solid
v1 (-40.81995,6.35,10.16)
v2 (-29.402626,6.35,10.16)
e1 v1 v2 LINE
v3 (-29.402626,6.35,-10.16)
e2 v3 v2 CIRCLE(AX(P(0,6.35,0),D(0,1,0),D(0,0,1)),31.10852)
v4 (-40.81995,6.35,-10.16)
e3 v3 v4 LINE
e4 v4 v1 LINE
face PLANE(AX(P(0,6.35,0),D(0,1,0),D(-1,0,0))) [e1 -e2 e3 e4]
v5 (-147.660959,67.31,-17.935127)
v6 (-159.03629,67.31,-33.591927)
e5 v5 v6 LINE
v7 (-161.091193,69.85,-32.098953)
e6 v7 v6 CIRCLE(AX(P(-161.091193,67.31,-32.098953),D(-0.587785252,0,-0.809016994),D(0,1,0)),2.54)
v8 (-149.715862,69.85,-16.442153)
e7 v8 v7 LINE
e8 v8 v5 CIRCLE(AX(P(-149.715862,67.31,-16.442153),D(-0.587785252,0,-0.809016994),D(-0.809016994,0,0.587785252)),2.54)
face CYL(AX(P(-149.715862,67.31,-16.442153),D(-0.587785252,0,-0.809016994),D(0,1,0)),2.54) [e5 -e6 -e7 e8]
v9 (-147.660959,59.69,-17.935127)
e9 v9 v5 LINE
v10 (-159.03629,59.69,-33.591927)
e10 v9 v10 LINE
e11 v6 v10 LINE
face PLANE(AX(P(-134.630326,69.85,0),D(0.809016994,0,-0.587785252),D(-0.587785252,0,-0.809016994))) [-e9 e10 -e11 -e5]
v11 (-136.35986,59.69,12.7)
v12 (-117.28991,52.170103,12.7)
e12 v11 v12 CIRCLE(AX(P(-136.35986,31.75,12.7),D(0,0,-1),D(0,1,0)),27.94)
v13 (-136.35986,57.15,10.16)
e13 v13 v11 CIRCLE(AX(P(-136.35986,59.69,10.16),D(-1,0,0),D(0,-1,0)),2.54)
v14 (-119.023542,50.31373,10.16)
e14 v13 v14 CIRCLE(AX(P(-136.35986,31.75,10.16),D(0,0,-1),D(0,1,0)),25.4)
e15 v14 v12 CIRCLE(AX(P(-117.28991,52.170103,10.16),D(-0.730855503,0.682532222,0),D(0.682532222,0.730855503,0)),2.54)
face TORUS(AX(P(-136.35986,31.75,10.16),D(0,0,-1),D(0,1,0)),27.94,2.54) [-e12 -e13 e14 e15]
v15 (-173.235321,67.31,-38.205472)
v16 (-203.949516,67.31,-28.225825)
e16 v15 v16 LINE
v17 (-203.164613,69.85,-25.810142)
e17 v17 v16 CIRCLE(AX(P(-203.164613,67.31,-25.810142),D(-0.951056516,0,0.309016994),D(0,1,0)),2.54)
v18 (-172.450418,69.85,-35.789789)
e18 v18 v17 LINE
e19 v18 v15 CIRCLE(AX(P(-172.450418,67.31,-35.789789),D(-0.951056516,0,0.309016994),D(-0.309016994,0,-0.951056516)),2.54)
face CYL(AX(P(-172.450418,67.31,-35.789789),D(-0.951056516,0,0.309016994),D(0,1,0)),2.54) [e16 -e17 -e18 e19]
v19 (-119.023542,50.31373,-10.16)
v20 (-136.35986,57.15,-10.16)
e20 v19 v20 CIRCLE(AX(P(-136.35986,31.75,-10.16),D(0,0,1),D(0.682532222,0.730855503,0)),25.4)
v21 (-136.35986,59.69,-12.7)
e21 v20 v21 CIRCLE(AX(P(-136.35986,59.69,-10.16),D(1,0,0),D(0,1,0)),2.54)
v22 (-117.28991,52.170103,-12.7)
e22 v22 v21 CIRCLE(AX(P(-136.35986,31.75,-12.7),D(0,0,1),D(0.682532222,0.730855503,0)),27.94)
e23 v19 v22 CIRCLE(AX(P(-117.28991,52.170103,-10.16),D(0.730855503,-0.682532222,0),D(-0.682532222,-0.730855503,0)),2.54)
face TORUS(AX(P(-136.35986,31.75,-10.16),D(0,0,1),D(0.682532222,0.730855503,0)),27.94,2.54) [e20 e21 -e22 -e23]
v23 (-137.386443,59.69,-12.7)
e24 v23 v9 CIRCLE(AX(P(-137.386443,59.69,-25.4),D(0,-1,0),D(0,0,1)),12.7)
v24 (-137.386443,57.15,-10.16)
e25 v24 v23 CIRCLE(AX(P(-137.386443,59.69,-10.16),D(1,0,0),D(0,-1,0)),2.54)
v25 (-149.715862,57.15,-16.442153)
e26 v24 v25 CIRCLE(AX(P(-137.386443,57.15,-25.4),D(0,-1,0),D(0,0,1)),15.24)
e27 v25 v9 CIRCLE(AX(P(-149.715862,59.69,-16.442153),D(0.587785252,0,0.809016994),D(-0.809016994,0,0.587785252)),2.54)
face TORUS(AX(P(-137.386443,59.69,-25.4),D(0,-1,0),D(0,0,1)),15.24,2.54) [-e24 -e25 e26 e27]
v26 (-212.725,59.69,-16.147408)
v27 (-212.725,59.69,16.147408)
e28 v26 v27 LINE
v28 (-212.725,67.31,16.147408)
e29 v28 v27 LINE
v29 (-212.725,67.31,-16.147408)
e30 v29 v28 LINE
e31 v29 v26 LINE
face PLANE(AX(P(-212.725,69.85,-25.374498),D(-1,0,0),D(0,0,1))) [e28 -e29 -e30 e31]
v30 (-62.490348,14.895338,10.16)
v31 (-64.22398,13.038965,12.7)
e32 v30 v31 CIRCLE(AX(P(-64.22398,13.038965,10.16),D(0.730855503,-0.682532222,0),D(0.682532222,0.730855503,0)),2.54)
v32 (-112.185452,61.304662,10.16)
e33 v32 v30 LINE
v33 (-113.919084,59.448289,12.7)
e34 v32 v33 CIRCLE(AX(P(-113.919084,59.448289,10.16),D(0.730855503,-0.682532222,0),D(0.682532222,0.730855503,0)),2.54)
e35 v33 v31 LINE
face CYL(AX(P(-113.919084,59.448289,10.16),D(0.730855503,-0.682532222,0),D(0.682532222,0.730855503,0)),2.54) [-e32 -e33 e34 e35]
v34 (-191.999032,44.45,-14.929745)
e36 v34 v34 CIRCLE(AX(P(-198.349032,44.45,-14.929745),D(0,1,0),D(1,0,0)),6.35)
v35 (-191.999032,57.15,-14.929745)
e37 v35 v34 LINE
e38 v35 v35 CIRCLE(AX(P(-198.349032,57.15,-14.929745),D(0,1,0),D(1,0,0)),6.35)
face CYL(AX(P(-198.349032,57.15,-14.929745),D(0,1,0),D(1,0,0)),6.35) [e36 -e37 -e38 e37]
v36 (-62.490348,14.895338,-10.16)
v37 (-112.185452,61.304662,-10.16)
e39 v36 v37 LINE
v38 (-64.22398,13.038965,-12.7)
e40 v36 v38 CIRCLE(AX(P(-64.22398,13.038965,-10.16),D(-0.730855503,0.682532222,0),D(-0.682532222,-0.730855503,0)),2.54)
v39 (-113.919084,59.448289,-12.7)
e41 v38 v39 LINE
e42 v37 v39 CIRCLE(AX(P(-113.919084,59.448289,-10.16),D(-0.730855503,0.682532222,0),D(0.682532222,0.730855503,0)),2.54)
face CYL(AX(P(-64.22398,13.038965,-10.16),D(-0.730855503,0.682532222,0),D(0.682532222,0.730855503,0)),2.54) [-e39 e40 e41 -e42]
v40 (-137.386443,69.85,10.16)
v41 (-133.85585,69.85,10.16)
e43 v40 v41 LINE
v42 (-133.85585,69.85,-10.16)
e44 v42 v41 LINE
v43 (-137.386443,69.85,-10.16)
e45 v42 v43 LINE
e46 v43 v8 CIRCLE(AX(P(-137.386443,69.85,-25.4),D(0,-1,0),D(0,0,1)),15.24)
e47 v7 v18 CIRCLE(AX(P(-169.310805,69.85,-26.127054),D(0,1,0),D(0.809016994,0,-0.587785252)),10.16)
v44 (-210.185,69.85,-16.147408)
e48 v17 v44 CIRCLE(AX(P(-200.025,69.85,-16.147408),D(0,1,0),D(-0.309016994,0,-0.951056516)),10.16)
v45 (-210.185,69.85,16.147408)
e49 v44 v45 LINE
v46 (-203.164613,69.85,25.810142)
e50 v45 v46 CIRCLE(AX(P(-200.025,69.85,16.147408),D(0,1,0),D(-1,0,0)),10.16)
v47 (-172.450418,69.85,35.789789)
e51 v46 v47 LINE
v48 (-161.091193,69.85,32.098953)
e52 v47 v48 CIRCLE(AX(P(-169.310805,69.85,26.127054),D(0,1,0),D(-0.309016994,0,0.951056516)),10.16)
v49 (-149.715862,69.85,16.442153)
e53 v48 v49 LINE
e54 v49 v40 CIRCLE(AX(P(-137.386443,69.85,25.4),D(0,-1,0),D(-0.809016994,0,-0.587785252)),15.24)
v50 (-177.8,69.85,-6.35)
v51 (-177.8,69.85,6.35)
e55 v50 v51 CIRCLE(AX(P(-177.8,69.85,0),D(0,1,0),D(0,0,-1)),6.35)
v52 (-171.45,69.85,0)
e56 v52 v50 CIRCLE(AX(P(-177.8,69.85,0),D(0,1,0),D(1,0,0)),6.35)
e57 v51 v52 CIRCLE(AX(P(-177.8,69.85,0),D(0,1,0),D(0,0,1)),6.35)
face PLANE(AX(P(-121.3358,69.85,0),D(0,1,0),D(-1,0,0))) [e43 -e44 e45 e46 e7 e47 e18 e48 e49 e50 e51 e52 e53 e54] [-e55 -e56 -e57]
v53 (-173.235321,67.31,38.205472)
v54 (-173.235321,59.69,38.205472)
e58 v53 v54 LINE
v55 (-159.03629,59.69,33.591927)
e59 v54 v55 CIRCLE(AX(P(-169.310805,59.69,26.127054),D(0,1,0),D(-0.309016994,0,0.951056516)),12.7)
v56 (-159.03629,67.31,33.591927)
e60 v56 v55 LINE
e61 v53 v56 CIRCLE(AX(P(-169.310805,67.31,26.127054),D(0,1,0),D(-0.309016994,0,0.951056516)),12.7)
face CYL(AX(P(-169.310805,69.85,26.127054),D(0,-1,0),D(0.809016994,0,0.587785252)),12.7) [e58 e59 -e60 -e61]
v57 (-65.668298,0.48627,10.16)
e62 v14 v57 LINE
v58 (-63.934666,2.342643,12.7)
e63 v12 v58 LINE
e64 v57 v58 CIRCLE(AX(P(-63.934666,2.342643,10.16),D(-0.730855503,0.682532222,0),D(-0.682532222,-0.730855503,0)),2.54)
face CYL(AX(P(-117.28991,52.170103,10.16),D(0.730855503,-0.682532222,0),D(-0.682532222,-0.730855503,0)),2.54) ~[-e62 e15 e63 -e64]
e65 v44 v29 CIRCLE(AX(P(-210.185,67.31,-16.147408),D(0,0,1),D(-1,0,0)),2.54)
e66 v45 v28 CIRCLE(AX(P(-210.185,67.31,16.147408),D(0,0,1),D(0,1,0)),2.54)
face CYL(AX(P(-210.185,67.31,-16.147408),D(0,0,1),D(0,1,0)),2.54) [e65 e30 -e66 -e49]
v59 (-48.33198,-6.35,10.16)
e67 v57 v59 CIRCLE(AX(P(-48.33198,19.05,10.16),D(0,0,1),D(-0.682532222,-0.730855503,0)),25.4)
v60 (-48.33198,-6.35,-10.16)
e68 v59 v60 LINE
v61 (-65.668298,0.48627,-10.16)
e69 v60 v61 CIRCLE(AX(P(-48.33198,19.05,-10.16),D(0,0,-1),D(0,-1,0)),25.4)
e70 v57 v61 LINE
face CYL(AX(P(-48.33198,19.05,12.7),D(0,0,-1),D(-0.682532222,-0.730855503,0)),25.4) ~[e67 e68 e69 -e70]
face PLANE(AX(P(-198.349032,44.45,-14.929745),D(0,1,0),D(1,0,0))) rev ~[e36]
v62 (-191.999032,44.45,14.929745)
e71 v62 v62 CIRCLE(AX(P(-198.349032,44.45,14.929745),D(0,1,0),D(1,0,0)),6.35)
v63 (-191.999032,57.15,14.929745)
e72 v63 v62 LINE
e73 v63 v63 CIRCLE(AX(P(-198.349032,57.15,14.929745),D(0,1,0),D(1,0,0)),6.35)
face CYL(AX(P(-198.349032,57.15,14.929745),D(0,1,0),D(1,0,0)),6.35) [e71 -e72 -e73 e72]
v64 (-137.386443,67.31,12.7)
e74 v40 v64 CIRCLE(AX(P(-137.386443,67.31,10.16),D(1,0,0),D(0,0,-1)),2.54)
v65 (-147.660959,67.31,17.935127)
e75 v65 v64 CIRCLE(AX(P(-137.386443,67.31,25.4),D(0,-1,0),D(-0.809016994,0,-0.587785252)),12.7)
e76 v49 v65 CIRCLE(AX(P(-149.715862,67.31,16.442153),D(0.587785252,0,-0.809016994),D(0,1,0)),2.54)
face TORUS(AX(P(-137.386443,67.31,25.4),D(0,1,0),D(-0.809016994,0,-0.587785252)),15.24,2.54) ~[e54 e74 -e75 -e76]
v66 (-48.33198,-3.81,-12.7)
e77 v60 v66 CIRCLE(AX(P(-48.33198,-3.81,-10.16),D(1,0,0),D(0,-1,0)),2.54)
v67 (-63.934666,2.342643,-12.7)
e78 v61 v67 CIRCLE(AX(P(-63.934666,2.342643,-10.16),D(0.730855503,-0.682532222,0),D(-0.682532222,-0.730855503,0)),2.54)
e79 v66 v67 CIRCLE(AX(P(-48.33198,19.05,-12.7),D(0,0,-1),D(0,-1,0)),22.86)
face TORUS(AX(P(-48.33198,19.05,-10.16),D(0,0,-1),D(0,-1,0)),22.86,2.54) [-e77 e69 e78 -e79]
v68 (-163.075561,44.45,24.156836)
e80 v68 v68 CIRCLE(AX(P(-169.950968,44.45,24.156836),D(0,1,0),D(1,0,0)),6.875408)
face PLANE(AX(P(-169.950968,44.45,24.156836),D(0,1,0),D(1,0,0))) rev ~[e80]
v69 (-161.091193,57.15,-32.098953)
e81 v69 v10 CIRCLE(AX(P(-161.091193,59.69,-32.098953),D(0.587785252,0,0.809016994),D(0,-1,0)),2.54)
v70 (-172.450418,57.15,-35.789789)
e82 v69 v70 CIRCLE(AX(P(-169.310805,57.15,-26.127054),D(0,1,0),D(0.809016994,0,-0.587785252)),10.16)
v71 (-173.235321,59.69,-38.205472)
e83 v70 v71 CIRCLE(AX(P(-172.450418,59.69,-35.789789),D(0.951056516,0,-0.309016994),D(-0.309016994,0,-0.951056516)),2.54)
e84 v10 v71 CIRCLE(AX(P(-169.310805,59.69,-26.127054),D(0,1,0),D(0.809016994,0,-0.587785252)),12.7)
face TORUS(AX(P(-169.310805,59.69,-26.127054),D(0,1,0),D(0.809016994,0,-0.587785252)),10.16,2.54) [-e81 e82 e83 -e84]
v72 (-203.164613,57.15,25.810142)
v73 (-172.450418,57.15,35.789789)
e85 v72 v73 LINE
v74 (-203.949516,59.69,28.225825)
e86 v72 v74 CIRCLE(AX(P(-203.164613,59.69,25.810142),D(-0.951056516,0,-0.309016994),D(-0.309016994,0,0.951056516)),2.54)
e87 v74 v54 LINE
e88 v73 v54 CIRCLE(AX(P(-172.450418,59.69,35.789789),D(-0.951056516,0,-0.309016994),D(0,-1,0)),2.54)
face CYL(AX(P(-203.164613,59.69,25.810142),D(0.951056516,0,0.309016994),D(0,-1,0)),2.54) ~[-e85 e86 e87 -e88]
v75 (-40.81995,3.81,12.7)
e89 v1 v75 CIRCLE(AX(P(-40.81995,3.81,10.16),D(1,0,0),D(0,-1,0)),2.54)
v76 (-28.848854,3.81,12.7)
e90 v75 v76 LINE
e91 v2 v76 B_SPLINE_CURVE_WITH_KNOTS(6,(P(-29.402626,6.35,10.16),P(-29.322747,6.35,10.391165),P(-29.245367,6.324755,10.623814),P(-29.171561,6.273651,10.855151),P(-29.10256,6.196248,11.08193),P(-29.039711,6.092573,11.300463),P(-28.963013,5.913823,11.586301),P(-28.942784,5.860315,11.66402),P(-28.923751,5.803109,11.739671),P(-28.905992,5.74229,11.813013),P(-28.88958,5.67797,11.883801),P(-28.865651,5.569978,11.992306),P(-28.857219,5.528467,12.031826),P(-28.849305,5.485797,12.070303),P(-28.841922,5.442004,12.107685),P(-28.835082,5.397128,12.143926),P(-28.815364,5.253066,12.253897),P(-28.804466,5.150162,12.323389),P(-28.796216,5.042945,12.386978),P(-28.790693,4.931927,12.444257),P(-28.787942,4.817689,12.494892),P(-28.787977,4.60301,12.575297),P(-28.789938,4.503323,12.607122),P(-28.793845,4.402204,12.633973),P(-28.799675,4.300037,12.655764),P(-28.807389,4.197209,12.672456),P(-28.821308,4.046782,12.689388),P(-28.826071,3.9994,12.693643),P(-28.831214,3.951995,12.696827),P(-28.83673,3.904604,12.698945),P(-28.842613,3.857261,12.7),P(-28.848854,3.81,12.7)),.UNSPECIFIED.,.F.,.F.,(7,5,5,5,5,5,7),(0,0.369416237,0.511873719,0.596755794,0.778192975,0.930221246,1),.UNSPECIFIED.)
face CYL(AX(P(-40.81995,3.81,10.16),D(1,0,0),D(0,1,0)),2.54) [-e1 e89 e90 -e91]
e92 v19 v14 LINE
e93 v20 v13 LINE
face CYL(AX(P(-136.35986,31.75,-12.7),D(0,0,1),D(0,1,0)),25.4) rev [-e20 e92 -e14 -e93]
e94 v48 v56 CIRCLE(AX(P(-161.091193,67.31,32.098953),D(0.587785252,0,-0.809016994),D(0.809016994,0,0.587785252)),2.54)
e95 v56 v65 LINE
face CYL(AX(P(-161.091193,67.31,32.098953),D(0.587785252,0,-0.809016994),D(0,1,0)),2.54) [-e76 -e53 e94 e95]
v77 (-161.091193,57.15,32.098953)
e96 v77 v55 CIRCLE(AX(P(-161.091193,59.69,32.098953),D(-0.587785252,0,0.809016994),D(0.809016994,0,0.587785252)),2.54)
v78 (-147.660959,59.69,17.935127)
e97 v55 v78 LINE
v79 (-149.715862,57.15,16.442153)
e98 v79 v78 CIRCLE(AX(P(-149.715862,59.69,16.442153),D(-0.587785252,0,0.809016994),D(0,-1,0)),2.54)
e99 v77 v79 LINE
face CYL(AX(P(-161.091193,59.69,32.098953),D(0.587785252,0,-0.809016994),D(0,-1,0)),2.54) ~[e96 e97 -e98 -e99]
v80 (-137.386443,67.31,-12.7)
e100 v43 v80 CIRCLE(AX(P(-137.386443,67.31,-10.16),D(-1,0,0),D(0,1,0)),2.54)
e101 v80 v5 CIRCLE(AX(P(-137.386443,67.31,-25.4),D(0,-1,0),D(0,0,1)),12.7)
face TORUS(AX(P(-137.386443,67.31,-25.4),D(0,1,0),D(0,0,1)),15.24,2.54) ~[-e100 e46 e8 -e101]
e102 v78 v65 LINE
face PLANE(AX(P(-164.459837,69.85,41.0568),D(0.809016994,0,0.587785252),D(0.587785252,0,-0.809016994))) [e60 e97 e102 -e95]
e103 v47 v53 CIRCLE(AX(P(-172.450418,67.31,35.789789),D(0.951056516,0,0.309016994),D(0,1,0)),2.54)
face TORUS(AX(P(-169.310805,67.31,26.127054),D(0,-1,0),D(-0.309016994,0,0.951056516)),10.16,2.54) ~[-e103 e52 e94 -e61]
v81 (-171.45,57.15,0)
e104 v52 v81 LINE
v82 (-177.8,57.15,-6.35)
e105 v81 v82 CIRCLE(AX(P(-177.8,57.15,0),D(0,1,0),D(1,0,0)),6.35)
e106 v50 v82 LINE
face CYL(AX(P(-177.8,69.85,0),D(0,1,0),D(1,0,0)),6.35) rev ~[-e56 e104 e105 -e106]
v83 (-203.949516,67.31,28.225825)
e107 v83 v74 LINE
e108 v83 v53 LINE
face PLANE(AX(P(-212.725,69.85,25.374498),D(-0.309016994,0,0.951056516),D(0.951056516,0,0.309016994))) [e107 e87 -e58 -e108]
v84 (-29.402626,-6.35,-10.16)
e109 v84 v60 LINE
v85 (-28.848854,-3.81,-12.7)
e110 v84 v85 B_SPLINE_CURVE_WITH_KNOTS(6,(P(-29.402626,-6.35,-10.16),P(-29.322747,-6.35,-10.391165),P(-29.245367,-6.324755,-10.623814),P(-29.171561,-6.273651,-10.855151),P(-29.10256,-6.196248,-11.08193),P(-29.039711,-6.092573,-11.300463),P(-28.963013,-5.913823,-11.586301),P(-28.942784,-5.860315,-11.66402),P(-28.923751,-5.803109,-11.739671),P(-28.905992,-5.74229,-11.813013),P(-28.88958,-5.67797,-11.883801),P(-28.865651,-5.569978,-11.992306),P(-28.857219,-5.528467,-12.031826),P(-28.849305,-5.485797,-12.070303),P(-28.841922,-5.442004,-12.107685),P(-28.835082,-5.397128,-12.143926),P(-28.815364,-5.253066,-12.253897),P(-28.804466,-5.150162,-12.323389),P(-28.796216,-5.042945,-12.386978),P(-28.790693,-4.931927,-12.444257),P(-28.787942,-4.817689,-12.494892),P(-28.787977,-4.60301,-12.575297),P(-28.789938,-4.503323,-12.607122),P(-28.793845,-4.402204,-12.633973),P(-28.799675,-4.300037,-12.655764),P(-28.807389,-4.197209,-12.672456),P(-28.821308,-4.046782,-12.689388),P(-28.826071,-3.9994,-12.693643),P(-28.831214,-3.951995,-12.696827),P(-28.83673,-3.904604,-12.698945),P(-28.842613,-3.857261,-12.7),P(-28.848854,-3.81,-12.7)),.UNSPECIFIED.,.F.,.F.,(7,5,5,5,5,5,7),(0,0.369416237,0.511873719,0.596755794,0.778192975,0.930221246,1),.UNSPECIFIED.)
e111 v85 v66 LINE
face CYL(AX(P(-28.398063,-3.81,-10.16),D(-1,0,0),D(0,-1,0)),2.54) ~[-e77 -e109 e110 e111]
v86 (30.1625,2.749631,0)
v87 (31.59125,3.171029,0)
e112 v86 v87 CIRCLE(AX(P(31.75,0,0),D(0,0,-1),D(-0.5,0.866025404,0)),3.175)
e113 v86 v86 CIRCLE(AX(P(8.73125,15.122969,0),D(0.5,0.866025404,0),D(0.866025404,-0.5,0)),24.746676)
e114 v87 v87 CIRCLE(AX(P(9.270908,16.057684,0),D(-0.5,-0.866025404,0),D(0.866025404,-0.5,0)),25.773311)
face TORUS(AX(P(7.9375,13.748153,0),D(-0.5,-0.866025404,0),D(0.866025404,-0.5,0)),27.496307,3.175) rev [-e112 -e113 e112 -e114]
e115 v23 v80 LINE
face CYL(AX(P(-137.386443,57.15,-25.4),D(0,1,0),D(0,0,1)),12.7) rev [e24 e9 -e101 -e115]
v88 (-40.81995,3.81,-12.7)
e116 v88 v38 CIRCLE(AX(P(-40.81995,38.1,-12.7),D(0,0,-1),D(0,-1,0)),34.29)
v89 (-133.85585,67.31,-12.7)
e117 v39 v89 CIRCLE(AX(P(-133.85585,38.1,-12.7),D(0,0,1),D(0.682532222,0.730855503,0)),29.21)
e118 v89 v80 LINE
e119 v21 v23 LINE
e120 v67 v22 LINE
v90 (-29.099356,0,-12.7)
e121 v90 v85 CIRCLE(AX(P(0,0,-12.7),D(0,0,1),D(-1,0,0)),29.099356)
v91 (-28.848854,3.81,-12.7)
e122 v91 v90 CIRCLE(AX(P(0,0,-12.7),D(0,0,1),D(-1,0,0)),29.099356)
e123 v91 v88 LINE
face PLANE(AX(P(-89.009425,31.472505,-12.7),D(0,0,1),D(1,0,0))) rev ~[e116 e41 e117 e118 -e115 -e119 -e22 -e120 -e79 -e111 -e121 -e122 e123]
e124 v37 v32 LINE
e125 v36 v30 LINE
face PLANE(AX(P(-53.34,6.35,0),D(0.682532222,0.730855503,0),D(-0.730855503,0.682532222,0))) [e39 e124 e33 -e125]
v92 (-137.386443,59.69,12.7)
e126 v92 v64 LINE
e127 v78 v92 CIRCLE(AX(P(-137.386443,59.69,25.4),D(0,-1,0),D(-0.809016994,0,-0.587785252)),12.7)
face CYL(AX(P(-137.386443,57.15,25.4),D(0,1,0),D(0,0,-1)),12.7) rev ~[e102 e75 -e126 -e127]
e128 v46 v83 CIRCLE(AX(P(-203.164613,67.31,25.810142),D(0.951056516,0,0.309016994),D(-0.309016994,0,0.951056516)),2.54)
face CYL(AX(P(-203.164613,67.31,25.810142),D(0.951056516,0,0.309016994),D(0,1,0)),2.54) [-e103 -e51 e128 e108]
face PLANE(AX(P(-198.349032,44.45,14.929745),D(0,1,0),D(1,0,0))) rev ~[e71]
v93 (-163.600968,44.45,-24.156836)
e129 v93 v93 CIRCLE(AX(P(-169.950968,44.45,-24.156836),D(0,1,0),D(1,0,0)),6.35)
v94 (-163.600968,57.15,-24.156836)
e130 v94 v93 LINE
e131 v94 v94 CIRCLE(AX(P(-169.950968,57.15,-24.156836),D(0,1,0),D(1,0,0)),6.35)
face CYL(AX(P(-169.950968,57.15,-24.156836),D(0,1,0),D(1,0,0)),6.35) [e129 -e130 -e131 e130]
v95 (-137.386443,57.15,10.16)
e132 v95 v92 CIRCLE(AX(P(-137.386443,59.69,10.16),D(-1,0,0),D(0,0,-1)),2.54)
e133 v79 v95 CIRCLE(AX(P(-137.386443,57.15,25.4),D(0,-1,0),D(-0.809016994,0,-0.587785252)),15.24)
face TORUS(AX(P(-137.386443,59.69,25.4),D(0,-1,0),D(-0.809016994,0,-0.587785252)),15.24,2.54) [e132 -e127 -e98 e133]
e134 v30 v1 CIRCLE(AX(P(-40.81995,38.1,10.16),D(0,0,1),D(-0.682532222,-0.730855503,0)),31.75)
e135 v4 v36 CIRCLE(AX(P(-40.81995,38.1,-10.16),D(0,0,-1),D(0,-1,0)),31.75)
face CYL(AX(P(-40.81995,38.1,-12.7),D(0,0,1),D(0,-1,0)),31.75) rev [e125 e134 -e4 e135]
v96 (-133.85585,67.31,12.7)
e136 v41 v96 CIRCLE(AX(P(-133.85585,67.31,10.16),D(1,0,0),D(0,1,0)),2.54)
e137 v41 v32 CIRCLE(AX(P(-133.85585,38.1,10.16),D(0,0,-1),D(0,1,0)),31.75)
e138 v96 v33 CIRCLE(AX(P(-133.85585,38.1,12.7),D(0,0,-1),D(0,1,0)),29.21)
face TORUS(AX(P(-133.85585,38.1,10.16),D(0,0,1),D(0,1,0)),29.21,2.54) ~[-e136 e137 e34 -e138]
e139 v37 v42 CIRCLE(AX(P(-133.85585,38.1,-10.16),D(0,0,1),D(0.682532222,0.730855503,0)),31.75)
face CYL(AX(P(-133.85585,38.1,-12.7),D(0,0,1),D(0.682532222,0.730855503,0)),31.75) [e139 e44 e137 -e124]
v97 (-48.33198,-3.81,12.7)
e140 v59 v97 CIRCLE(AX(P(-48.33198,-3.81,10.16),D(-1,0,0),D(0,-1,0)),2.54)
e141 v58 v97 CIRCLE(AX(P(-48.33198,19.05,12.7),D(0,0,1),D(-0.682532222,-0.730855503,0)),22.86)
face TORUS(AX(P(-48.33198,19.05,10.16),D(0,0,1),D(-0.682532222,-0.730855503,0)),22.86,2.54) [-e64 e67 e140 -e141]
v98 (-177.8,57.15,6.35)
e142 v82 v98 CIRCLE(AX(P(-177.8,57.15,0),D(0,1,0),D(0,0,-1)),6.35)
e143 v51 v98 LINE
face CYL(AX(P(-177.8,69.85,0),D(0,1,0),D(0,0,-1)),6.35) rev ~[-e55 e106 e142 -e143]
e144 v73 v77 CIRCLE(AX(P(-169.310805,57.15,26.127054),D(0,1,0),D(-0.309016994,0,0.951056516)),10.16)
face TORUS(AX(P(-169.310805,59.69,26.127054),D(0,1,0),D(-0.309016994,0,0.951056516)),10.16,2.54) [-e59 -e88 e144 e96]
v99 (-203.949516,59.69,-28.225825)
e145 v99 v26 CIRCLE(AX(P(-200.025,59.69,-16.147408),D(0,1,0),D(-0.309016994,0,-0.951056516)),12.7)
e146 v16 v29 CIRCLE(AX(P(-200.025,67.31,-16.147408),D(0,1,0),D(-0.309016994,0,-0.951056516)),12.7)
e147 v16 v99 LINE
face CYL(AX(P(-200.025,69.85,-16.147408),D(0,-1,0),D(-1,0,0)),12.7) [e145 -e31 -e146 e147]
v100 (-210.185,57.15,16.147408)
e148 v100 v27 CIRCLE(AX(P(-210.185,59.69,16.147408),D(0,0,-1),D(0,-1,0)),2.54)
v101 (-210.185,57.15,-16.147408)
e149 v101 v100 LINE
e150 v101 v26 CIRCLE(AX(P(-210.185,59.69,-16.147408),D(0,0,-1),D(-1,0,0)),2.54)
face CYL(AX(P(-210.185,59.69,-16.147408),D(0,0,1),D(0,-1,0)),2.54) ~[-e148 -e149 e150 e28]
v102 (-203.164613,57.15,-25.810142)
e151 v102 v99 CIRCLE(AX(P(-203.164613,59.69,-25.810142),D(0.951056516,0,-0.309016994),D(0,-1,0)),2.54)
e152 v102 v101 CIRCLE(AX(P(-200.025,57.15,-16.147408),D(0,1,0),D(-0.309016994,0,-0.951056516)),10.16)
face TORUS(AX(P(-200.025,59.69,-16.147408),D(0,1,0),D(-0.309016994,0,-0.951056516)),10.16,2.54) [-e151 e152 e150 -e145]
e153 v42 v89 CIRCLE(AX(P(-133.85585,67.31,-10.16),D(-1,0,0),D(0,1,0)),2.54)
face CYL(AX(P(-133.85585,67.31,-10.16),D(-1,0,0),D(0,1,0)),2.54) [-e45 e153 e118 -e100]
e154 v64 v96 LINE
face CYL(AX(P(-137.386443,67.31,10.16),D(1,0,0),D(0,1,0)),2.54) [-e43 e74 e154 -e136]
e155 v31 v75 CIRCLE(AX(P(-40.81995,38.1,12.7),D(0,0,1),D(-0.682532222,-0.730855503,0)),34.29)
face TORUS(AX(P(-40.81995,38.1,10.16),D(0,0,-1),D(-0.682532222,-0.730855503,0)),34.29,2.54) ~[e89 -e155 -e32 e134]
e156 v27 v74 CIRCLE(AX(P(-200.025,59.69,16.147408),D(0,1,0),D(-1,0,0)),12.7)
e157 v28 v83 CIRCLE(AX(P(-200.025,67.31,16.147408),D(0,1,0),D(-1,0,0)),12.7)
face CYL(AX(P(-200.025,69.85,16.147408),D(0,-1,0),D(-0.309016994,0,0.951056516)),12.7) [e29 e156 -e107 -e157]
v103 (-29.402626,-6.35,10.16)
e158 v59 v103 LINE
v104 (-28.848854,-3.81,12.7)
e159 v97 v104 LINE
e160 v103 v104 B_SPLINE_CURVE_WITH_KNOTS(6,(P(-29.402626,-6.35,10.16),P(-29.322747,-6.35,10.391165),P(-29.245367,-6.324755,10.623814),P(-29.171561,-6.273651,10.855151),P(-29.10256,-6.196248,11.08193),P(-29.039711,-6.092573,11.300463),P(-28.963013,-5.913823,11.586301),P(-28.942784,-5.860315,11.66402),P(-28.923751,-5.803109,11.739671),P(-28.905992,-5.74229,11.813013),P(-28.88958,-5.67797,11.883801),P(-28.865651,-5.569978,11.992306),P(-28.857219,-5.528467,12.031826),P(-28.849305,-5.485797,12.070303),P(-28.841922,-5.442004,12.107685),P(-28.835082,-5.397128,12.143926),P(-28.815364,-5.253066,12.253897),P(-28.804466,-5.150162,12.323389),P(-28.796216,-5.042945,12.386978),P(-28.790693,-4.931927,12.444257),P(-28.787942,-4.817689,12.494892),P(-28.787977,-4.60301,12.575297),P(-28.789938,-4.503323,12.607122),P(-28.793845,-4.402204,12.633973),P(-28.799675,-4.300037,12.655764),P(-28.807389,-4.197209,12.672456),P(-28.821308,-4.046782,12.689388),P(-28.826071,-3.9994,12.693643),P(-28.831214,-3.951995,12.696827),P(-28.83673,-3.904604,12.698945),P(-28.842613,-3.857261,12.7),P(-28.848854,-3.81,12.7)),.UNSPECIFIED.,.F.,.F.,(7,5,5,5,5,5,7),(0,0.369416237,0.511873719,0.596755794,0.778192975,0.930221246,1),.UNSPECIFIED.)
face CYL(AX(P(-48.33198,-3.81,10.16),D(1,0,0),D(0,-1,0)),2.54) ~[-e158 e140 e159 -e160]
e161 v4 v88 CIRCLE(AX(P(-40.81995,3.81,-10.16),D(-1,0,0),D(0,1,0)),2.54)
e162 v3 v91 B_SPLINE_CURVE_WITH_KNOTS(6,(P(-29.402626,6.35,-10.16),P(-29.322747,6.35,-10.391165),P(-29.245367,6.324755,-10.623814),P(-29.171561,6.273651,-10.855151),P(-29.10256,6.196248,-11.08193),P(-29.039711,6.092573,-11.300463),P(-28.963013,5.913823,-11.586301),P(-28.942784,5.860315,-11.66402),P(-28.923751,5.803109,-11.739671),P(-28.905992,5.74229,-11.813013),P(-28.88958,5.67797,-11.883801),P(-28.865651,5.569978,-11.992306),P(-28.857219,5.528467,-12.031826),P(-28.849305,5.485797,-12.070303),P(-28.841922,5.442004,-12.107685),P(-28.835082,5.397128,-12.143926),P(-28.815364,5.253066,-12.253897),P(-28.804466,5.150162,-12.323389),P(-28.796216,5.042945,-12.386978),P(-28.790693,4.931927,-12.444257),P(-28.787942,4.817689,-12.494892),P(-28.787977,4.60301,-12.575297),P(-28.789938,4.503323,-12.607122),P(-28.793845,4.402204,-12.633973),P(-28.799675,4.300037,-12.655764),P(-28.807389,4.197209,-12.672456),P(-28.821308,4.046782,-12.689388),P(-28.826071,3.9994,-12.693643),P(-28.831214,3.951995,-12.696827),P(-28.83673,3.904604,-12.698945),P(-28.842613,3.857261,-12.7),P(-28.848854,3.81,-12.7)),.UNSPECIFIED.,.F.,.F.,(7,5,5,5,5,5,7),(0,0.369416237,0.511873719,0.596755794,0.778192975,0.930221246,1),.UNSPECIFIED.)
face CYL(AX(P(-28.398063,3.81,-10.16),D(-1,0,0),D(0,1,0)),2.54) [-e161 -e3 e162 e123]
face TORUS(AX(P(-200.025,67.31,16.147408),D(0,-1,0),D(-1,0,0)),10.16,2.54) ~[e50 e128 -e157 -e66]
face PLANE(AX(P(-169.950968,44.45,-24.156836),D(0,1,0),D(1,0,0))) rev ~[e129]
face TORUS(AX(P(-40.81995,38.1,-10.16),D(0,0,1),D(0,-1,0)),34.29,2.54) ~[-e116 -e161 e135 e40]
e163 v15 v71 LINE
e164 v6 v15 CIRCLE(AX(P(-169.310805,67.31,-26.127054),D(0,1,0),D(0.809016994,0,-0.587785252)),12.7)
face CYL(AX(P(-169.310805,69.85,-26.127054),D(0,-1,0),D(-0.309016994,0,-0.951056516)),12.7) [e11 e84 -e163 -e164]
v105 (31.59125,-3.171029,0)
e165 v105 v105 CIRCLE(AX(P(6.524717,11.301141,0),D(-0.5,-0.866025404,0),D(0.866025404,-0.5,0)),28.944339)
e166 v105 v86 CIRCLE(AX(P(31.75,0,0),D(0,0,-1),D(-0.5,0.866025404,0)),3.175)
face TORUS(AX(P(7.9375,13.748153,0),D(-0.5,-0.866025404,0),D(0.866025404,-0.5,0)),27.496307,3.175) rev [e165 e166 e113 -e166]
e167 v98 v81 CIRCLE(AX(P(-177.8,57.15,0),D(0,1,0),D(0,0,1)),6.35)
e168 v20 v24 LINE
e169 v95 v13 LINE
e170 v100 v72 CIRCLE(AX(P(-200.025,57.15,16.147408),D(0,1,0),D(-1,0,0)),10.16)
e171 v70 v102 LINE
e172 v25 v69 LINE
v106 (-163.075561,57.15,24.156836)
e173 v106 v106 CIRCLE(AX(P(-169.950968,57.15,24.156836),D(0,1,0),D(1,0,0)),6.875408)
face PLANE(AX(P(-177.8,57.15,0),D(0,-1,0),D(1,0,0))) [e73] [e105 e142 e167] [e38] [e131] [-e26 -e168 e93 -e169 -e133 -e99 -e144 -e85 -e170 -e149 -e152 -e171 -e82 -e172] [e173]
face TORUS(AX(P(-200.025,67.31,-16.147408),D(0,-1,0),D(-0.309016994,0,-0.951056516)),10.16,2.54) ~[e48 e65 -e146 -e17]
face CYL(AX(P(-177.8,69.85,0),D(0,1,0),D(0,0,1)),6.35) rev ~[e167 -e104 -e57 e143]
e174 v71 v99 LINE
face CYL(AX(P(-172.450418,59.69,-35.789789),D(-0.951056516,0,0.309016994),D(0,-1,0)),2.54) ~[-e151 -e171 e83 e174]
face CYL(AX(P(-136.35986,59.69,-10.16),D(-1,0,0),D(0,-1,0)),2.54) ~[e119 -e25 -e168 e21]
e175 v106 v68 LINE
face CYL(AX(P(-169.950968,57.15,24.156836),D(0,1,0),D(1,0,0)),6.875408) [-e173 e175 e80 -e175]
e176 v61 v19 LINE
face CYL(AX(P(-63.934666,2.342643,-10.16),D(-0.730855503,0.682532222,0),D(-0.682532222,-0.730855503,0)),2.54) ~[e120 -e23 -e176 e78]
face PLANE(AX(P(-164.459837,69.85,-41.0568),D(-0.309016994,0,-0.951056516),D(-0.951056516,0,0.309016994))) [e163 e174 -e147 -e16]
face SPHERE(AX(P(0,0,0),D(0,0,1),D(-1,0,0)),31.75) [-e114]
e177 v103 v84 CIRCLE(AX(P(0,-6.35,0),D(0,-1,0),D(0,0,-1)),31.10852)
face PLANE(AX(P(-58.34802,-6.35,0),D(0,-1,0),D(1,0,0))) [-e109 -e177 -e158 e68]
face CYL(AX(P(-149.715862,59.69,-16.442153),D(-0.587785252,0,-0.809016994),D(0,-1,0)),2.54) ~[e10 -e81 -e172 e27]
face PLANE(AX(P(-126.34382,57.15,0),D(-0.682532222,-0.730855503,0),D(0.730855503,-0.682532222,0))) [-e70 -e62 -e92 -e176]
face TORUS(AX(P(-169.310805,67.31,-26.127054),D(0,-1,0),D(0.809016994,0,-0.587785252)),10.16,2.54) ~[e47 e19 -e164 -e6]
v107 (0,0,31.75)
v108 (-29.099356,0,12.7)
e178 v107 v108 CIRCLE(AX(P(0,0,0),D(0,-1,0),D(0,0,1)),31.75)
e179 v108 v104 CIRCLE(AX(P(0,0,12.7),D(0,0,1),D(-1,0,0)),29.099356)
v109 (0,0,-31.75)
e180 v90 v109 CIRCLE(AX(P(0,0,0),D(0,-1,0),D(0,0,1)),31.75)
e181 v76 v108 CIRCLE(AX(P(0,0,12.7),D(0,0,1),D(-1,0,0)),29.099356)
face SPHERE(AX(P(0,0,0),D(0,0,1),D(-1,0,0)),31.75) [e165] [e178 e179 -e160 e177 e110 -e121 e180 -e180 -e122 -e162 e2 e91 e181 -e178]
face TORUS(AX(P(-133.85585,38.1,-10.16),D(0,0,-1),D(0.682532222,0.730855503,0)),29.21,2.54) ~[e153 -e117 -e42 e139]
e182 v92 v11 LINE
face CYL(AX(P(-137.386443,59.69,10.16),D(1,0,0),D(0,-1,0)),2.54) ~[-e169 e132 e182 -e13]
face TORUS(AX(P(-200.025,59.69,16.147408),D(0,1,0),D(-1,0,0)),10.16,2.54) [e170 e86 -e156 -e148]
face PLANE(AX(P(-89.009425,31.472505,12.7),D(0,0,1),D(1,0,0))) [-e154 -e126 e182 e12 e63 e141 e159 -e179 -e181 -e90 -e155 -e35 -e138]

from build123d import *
from build123d.topology import SkipClean

# Parameters (mm, degrees)
BOSS_EXTRUDE1_DEPTH = 12.7
FILLET5_R           = 31.75
FILLET6_R           = 25.4
BOSS_EXTRUDE2_DEPTH = 12.7
CUT_EXTRUDE1_DEPTH  = 240.290924276
BOSS_EXTRUDE3_START = -12.7
SKETCH5_4_R         = 6.35
SKETCH5_4_R_2       = 6.875407659
BOSS_EXTRUDE3_DEPTH = 12.7
FILLET7_R           = 12.7
FILLET2_R           = 2.54
SKETCH7_R           = 3.175


with BuildPart() as part:
    # Sketch1 → Revolve1 (revolve)
    with SkipClean():  # the faces are left unmerged after this step: merging them gives an invalid solid
        with BuildSketch(Plane(origin=(0, 0, 0), x_dir=(1, 0, 0), z_dir=(0, 1, 0))):
            with BuildLine():
                ThreePointArc((31.75, 0), (22.450640303, 22.450640303), (0, 31.75))
                Line((0, 31.75), (0, -31.75))
                ThreePointArc((0, -31.75), (22.450640303, -22.450640303), (31.75, 0))
            make_face()
            with BuildLine():
                Line((0, -31.75), (0, 31.75))
                ThreePointArc((0, 31.75), (-31.75, 0), (0, -31.75))
            make_face()
        revolve(axis=Axis((0, 0, -31.75), (0, 0, 1)))


with BuildPart() as body_2:
    # Sketch4 → Boss-Extrude1 (new, symmetric)
    with BuildSketch(Plane.XY):
        Polygon((0, 6.35), (-31.108519733, 6.35), (-53.34, 6.35), (-121.3358, 69.85), (-177.8, 69.85), (-177.8, 57.15), (-126.343820138, 57.15), (-58.348020138, -6.35), (-31.108519733, -6.35), (0, -6.35), (0, 0), align=None)
    extrude(amount=BOSS_EXTRUDE1_DEPTH, both=True)


with BuildPart() as part_1:
    add(part.part)

    # Combine2: union body 2
    add(body_2.part)

    # Fillet5
    fillet5_edges = [part_1.edges().sort_by_distance(p)[0] for p in [
        (-121.3358, 69.85, 0),
        (-53.34, 6.35, 0),
    ]]
    fillet(fillet5_edges, radius=FILLET5_R)

    # Fillet6
    fillet6_edges = [part_1.edges().sort_by_distance(p)[0] for p in [
        (-126.343820138, 57.15, 0),
        (-58.348020138, -6.35, 0),
    ]]
    fillet(fillet6_edges, radius=FILLET6_R)

    # Sketch5 → Boss-Extrude2 (add)
    with SkipClean():  # the faces are left unmerged after this step: merging them gives an invalid solid
        with BuildSketch(Plane(origin=(0, 69.85, 0), x_dir=(1, 0, 0), z_dir=(0, 1, 0))):
            Polygon((-134.630325886, 0), (-164.459837057, 41.056799873), (-212.725, 25.374497791), (-212.725, -25.374497791), (-164.459837057, -41.056799873), align=None)
        extrude(amount=-BOSS_EXTRUDE2_DEPTH)

    # Sketch5<3> → Cut-Extrude1 (cut, through all)
    with SkipClean():  # the faces are left unmerged after this step: merging them gives an invalid solid
        with BuildSketch(Plane(origin=(0, 69.85, 0), x_dir=(1, 0, 0), z_dir=(0, 1, 0))):
            with BuildLine():
                ThreePointArc((-171.45, 0), (-173.309871939, 4.490128061), (-177.8, 6.35))
                Line((-177.8, 6.35), (-177.8, -6.35))
                ThreePointArc((-177.8, -6.35), (-173.309871939, -4.490128061), (-171.45, 0))
            make_face()
            with BuildLine():
                Line((-177.8, -6.35), (-177.8, 6.35))
                ThreePointArc((-177.8, 6.35), (-184.15, 0), (-177.8, -6.35))
            make_face()
        extrude(amount=-CUT_EXTRUDE1_DEPTH, mode=Mode.SUBTRACT)

    # Sketch5<4> → Boss-Extrude3 (add)
    with SkipClean():  # the faces are left unmerged after this step: merging them gives an invalid solid
        with BuildSketch(Plane(origin=(0, 69.85, 0), x_dir=(1, 0, 0), z_dir=(0, 1, 0)).offset(BOSS_EXTRUDE3_START)):
            with Locations((-169.950968343, 24.156835514)):
                Circle(SKETCH5_4_R)
            with Locations((-198.349031657, 14.929745408)):
                Circle(SKETCH5_4_R)
            with Locations((-198.349031657, -14.929745408)):
                Circle(SKETCH5_4_R)
            with Locations((-169.950968343, -24.156835514)):
                Circle(SKETCH5_4_R_2)
        extrude(amount=-BOSS_EXTRUDE3_DEPTH)

    # Fillet7
    fillet7_edges = [part_1.edges().sort_by_distance(p)[0] for p in [
        (-164.459837057, 63.5, -41.056799873),
        (-143.857415991, 63.5, -12.7),
        (-212.725, 63.5, -25.374497791),
        (-212.725, 63.5, 25.374497791),
        (-164.459837057, 63.5, 41.056799873),
        (-143.857415991, 63.5, 12.7),
    ]]
    fillet(fillet7_edges, radius=FILLET7_R)

    # Fillet2
    fillet2_edges = [part_1.edges().sort_by_distance(p)[0] for p in [
        (-153.348624091, 57.15, -25.763527232),
        (-153.348624091, 69.85, -25.763527232),
        (-188.592418529, 69.85, -33.215648832),
        (-212.725, 69.85, 0),
        (-188.592418529, 69.85, 33.215648832),
        (-153.348624091, 69.85, 25.763527232),
        (-165.386289571, 69.85, 38.205472221),
        (-210.299515829, 69.85, 23.612280389),
        (-210.299515829, 69.85, -23.612280389),
        (-165.386289571, 69.85, -38.205472221),
        (-188.592418529, 57.15, -33.215648832),
        (-153.348624091, 57.15, 25.763527232),
        (-188.592418529, 57.15, 33.215648832),
        (-212.725, 57.15, 0),
        (-165.386289571, 57.15, 38.205472221),
        (-210.299515829, 57.15, 23.612280389),
        (-210.299515829, 57.15, -23.612280389),
        (-165.386289571, 57.15, -38.205472221),
        (-143.15212213, 69.85, -14.084217143),
        (-143.15212213, 57.15, -14.084217143),
        (-143.15212213, 69.85, 14.084217143),
        (-143.15212213, 57.15, 14.084217143),
        (-87.3379, 38.1, -12.7),
        (-87.3379, 38.1, 12.7),
        (-34.609006484, 6.35, -12.7),
        (-34.609006484, 6.35, 12.7),
        (-135.621146565, 69.85, -12.7),
        (-135.621146565, 69.85, 12.7),
        (-122.20865166, 67.636507288, -12.7),
        (-122.20865166, 67.636507288, 12.7),
        (-52.46714834, 8.563492712, -12.7),
        (-52.46714834, 8.563492712, 12.7),
        (-92.345920138, 25.4, -12.7),
        (-136.873151599, 57.15, -12.7),
        (-57.649738811, -4.57920583, -12.7),
        (-92.345920138, 25.4, 12.7),
        (-136.873151599, 57.15, 12.7),
        (-57.649738811, -4.57920583, 12.7),
        (-127.042101466, 55.37920583, -12.7),
        (-127.042101466, 55.37920583, 12.7),
        (-38.365021588, -6.35, 12.7),
        (-38.365021588, -6.35, -12.7),
    ]]
    fillet(fillet2_edges, radius=FILLET2_R)

    # Sketch7 → Cut-Revolve1 (revolve, cut)
    with SkipClean():  # the faces are left unmerged after this step: merging them gives an invalid solid
        with BuildSketch(Plane.XY, mode=Mode.PRIVATE) as cut_revolve1_sk:
            with Locations((-15.875, 27.49630657)):
                Circle(SKETCH7_R)
        revolve(cut_revolve1_sk.sketch.rotate(Axis((0, 0, 0), (0.5000000000000011, 0.8660254037844382, 0)), 180), axis=Axis((0, 0, 0), (0.5000000000000011, 0.8660254037844382, 0)), mode=Mode.SUBTRACT)


solid = part_1.part
